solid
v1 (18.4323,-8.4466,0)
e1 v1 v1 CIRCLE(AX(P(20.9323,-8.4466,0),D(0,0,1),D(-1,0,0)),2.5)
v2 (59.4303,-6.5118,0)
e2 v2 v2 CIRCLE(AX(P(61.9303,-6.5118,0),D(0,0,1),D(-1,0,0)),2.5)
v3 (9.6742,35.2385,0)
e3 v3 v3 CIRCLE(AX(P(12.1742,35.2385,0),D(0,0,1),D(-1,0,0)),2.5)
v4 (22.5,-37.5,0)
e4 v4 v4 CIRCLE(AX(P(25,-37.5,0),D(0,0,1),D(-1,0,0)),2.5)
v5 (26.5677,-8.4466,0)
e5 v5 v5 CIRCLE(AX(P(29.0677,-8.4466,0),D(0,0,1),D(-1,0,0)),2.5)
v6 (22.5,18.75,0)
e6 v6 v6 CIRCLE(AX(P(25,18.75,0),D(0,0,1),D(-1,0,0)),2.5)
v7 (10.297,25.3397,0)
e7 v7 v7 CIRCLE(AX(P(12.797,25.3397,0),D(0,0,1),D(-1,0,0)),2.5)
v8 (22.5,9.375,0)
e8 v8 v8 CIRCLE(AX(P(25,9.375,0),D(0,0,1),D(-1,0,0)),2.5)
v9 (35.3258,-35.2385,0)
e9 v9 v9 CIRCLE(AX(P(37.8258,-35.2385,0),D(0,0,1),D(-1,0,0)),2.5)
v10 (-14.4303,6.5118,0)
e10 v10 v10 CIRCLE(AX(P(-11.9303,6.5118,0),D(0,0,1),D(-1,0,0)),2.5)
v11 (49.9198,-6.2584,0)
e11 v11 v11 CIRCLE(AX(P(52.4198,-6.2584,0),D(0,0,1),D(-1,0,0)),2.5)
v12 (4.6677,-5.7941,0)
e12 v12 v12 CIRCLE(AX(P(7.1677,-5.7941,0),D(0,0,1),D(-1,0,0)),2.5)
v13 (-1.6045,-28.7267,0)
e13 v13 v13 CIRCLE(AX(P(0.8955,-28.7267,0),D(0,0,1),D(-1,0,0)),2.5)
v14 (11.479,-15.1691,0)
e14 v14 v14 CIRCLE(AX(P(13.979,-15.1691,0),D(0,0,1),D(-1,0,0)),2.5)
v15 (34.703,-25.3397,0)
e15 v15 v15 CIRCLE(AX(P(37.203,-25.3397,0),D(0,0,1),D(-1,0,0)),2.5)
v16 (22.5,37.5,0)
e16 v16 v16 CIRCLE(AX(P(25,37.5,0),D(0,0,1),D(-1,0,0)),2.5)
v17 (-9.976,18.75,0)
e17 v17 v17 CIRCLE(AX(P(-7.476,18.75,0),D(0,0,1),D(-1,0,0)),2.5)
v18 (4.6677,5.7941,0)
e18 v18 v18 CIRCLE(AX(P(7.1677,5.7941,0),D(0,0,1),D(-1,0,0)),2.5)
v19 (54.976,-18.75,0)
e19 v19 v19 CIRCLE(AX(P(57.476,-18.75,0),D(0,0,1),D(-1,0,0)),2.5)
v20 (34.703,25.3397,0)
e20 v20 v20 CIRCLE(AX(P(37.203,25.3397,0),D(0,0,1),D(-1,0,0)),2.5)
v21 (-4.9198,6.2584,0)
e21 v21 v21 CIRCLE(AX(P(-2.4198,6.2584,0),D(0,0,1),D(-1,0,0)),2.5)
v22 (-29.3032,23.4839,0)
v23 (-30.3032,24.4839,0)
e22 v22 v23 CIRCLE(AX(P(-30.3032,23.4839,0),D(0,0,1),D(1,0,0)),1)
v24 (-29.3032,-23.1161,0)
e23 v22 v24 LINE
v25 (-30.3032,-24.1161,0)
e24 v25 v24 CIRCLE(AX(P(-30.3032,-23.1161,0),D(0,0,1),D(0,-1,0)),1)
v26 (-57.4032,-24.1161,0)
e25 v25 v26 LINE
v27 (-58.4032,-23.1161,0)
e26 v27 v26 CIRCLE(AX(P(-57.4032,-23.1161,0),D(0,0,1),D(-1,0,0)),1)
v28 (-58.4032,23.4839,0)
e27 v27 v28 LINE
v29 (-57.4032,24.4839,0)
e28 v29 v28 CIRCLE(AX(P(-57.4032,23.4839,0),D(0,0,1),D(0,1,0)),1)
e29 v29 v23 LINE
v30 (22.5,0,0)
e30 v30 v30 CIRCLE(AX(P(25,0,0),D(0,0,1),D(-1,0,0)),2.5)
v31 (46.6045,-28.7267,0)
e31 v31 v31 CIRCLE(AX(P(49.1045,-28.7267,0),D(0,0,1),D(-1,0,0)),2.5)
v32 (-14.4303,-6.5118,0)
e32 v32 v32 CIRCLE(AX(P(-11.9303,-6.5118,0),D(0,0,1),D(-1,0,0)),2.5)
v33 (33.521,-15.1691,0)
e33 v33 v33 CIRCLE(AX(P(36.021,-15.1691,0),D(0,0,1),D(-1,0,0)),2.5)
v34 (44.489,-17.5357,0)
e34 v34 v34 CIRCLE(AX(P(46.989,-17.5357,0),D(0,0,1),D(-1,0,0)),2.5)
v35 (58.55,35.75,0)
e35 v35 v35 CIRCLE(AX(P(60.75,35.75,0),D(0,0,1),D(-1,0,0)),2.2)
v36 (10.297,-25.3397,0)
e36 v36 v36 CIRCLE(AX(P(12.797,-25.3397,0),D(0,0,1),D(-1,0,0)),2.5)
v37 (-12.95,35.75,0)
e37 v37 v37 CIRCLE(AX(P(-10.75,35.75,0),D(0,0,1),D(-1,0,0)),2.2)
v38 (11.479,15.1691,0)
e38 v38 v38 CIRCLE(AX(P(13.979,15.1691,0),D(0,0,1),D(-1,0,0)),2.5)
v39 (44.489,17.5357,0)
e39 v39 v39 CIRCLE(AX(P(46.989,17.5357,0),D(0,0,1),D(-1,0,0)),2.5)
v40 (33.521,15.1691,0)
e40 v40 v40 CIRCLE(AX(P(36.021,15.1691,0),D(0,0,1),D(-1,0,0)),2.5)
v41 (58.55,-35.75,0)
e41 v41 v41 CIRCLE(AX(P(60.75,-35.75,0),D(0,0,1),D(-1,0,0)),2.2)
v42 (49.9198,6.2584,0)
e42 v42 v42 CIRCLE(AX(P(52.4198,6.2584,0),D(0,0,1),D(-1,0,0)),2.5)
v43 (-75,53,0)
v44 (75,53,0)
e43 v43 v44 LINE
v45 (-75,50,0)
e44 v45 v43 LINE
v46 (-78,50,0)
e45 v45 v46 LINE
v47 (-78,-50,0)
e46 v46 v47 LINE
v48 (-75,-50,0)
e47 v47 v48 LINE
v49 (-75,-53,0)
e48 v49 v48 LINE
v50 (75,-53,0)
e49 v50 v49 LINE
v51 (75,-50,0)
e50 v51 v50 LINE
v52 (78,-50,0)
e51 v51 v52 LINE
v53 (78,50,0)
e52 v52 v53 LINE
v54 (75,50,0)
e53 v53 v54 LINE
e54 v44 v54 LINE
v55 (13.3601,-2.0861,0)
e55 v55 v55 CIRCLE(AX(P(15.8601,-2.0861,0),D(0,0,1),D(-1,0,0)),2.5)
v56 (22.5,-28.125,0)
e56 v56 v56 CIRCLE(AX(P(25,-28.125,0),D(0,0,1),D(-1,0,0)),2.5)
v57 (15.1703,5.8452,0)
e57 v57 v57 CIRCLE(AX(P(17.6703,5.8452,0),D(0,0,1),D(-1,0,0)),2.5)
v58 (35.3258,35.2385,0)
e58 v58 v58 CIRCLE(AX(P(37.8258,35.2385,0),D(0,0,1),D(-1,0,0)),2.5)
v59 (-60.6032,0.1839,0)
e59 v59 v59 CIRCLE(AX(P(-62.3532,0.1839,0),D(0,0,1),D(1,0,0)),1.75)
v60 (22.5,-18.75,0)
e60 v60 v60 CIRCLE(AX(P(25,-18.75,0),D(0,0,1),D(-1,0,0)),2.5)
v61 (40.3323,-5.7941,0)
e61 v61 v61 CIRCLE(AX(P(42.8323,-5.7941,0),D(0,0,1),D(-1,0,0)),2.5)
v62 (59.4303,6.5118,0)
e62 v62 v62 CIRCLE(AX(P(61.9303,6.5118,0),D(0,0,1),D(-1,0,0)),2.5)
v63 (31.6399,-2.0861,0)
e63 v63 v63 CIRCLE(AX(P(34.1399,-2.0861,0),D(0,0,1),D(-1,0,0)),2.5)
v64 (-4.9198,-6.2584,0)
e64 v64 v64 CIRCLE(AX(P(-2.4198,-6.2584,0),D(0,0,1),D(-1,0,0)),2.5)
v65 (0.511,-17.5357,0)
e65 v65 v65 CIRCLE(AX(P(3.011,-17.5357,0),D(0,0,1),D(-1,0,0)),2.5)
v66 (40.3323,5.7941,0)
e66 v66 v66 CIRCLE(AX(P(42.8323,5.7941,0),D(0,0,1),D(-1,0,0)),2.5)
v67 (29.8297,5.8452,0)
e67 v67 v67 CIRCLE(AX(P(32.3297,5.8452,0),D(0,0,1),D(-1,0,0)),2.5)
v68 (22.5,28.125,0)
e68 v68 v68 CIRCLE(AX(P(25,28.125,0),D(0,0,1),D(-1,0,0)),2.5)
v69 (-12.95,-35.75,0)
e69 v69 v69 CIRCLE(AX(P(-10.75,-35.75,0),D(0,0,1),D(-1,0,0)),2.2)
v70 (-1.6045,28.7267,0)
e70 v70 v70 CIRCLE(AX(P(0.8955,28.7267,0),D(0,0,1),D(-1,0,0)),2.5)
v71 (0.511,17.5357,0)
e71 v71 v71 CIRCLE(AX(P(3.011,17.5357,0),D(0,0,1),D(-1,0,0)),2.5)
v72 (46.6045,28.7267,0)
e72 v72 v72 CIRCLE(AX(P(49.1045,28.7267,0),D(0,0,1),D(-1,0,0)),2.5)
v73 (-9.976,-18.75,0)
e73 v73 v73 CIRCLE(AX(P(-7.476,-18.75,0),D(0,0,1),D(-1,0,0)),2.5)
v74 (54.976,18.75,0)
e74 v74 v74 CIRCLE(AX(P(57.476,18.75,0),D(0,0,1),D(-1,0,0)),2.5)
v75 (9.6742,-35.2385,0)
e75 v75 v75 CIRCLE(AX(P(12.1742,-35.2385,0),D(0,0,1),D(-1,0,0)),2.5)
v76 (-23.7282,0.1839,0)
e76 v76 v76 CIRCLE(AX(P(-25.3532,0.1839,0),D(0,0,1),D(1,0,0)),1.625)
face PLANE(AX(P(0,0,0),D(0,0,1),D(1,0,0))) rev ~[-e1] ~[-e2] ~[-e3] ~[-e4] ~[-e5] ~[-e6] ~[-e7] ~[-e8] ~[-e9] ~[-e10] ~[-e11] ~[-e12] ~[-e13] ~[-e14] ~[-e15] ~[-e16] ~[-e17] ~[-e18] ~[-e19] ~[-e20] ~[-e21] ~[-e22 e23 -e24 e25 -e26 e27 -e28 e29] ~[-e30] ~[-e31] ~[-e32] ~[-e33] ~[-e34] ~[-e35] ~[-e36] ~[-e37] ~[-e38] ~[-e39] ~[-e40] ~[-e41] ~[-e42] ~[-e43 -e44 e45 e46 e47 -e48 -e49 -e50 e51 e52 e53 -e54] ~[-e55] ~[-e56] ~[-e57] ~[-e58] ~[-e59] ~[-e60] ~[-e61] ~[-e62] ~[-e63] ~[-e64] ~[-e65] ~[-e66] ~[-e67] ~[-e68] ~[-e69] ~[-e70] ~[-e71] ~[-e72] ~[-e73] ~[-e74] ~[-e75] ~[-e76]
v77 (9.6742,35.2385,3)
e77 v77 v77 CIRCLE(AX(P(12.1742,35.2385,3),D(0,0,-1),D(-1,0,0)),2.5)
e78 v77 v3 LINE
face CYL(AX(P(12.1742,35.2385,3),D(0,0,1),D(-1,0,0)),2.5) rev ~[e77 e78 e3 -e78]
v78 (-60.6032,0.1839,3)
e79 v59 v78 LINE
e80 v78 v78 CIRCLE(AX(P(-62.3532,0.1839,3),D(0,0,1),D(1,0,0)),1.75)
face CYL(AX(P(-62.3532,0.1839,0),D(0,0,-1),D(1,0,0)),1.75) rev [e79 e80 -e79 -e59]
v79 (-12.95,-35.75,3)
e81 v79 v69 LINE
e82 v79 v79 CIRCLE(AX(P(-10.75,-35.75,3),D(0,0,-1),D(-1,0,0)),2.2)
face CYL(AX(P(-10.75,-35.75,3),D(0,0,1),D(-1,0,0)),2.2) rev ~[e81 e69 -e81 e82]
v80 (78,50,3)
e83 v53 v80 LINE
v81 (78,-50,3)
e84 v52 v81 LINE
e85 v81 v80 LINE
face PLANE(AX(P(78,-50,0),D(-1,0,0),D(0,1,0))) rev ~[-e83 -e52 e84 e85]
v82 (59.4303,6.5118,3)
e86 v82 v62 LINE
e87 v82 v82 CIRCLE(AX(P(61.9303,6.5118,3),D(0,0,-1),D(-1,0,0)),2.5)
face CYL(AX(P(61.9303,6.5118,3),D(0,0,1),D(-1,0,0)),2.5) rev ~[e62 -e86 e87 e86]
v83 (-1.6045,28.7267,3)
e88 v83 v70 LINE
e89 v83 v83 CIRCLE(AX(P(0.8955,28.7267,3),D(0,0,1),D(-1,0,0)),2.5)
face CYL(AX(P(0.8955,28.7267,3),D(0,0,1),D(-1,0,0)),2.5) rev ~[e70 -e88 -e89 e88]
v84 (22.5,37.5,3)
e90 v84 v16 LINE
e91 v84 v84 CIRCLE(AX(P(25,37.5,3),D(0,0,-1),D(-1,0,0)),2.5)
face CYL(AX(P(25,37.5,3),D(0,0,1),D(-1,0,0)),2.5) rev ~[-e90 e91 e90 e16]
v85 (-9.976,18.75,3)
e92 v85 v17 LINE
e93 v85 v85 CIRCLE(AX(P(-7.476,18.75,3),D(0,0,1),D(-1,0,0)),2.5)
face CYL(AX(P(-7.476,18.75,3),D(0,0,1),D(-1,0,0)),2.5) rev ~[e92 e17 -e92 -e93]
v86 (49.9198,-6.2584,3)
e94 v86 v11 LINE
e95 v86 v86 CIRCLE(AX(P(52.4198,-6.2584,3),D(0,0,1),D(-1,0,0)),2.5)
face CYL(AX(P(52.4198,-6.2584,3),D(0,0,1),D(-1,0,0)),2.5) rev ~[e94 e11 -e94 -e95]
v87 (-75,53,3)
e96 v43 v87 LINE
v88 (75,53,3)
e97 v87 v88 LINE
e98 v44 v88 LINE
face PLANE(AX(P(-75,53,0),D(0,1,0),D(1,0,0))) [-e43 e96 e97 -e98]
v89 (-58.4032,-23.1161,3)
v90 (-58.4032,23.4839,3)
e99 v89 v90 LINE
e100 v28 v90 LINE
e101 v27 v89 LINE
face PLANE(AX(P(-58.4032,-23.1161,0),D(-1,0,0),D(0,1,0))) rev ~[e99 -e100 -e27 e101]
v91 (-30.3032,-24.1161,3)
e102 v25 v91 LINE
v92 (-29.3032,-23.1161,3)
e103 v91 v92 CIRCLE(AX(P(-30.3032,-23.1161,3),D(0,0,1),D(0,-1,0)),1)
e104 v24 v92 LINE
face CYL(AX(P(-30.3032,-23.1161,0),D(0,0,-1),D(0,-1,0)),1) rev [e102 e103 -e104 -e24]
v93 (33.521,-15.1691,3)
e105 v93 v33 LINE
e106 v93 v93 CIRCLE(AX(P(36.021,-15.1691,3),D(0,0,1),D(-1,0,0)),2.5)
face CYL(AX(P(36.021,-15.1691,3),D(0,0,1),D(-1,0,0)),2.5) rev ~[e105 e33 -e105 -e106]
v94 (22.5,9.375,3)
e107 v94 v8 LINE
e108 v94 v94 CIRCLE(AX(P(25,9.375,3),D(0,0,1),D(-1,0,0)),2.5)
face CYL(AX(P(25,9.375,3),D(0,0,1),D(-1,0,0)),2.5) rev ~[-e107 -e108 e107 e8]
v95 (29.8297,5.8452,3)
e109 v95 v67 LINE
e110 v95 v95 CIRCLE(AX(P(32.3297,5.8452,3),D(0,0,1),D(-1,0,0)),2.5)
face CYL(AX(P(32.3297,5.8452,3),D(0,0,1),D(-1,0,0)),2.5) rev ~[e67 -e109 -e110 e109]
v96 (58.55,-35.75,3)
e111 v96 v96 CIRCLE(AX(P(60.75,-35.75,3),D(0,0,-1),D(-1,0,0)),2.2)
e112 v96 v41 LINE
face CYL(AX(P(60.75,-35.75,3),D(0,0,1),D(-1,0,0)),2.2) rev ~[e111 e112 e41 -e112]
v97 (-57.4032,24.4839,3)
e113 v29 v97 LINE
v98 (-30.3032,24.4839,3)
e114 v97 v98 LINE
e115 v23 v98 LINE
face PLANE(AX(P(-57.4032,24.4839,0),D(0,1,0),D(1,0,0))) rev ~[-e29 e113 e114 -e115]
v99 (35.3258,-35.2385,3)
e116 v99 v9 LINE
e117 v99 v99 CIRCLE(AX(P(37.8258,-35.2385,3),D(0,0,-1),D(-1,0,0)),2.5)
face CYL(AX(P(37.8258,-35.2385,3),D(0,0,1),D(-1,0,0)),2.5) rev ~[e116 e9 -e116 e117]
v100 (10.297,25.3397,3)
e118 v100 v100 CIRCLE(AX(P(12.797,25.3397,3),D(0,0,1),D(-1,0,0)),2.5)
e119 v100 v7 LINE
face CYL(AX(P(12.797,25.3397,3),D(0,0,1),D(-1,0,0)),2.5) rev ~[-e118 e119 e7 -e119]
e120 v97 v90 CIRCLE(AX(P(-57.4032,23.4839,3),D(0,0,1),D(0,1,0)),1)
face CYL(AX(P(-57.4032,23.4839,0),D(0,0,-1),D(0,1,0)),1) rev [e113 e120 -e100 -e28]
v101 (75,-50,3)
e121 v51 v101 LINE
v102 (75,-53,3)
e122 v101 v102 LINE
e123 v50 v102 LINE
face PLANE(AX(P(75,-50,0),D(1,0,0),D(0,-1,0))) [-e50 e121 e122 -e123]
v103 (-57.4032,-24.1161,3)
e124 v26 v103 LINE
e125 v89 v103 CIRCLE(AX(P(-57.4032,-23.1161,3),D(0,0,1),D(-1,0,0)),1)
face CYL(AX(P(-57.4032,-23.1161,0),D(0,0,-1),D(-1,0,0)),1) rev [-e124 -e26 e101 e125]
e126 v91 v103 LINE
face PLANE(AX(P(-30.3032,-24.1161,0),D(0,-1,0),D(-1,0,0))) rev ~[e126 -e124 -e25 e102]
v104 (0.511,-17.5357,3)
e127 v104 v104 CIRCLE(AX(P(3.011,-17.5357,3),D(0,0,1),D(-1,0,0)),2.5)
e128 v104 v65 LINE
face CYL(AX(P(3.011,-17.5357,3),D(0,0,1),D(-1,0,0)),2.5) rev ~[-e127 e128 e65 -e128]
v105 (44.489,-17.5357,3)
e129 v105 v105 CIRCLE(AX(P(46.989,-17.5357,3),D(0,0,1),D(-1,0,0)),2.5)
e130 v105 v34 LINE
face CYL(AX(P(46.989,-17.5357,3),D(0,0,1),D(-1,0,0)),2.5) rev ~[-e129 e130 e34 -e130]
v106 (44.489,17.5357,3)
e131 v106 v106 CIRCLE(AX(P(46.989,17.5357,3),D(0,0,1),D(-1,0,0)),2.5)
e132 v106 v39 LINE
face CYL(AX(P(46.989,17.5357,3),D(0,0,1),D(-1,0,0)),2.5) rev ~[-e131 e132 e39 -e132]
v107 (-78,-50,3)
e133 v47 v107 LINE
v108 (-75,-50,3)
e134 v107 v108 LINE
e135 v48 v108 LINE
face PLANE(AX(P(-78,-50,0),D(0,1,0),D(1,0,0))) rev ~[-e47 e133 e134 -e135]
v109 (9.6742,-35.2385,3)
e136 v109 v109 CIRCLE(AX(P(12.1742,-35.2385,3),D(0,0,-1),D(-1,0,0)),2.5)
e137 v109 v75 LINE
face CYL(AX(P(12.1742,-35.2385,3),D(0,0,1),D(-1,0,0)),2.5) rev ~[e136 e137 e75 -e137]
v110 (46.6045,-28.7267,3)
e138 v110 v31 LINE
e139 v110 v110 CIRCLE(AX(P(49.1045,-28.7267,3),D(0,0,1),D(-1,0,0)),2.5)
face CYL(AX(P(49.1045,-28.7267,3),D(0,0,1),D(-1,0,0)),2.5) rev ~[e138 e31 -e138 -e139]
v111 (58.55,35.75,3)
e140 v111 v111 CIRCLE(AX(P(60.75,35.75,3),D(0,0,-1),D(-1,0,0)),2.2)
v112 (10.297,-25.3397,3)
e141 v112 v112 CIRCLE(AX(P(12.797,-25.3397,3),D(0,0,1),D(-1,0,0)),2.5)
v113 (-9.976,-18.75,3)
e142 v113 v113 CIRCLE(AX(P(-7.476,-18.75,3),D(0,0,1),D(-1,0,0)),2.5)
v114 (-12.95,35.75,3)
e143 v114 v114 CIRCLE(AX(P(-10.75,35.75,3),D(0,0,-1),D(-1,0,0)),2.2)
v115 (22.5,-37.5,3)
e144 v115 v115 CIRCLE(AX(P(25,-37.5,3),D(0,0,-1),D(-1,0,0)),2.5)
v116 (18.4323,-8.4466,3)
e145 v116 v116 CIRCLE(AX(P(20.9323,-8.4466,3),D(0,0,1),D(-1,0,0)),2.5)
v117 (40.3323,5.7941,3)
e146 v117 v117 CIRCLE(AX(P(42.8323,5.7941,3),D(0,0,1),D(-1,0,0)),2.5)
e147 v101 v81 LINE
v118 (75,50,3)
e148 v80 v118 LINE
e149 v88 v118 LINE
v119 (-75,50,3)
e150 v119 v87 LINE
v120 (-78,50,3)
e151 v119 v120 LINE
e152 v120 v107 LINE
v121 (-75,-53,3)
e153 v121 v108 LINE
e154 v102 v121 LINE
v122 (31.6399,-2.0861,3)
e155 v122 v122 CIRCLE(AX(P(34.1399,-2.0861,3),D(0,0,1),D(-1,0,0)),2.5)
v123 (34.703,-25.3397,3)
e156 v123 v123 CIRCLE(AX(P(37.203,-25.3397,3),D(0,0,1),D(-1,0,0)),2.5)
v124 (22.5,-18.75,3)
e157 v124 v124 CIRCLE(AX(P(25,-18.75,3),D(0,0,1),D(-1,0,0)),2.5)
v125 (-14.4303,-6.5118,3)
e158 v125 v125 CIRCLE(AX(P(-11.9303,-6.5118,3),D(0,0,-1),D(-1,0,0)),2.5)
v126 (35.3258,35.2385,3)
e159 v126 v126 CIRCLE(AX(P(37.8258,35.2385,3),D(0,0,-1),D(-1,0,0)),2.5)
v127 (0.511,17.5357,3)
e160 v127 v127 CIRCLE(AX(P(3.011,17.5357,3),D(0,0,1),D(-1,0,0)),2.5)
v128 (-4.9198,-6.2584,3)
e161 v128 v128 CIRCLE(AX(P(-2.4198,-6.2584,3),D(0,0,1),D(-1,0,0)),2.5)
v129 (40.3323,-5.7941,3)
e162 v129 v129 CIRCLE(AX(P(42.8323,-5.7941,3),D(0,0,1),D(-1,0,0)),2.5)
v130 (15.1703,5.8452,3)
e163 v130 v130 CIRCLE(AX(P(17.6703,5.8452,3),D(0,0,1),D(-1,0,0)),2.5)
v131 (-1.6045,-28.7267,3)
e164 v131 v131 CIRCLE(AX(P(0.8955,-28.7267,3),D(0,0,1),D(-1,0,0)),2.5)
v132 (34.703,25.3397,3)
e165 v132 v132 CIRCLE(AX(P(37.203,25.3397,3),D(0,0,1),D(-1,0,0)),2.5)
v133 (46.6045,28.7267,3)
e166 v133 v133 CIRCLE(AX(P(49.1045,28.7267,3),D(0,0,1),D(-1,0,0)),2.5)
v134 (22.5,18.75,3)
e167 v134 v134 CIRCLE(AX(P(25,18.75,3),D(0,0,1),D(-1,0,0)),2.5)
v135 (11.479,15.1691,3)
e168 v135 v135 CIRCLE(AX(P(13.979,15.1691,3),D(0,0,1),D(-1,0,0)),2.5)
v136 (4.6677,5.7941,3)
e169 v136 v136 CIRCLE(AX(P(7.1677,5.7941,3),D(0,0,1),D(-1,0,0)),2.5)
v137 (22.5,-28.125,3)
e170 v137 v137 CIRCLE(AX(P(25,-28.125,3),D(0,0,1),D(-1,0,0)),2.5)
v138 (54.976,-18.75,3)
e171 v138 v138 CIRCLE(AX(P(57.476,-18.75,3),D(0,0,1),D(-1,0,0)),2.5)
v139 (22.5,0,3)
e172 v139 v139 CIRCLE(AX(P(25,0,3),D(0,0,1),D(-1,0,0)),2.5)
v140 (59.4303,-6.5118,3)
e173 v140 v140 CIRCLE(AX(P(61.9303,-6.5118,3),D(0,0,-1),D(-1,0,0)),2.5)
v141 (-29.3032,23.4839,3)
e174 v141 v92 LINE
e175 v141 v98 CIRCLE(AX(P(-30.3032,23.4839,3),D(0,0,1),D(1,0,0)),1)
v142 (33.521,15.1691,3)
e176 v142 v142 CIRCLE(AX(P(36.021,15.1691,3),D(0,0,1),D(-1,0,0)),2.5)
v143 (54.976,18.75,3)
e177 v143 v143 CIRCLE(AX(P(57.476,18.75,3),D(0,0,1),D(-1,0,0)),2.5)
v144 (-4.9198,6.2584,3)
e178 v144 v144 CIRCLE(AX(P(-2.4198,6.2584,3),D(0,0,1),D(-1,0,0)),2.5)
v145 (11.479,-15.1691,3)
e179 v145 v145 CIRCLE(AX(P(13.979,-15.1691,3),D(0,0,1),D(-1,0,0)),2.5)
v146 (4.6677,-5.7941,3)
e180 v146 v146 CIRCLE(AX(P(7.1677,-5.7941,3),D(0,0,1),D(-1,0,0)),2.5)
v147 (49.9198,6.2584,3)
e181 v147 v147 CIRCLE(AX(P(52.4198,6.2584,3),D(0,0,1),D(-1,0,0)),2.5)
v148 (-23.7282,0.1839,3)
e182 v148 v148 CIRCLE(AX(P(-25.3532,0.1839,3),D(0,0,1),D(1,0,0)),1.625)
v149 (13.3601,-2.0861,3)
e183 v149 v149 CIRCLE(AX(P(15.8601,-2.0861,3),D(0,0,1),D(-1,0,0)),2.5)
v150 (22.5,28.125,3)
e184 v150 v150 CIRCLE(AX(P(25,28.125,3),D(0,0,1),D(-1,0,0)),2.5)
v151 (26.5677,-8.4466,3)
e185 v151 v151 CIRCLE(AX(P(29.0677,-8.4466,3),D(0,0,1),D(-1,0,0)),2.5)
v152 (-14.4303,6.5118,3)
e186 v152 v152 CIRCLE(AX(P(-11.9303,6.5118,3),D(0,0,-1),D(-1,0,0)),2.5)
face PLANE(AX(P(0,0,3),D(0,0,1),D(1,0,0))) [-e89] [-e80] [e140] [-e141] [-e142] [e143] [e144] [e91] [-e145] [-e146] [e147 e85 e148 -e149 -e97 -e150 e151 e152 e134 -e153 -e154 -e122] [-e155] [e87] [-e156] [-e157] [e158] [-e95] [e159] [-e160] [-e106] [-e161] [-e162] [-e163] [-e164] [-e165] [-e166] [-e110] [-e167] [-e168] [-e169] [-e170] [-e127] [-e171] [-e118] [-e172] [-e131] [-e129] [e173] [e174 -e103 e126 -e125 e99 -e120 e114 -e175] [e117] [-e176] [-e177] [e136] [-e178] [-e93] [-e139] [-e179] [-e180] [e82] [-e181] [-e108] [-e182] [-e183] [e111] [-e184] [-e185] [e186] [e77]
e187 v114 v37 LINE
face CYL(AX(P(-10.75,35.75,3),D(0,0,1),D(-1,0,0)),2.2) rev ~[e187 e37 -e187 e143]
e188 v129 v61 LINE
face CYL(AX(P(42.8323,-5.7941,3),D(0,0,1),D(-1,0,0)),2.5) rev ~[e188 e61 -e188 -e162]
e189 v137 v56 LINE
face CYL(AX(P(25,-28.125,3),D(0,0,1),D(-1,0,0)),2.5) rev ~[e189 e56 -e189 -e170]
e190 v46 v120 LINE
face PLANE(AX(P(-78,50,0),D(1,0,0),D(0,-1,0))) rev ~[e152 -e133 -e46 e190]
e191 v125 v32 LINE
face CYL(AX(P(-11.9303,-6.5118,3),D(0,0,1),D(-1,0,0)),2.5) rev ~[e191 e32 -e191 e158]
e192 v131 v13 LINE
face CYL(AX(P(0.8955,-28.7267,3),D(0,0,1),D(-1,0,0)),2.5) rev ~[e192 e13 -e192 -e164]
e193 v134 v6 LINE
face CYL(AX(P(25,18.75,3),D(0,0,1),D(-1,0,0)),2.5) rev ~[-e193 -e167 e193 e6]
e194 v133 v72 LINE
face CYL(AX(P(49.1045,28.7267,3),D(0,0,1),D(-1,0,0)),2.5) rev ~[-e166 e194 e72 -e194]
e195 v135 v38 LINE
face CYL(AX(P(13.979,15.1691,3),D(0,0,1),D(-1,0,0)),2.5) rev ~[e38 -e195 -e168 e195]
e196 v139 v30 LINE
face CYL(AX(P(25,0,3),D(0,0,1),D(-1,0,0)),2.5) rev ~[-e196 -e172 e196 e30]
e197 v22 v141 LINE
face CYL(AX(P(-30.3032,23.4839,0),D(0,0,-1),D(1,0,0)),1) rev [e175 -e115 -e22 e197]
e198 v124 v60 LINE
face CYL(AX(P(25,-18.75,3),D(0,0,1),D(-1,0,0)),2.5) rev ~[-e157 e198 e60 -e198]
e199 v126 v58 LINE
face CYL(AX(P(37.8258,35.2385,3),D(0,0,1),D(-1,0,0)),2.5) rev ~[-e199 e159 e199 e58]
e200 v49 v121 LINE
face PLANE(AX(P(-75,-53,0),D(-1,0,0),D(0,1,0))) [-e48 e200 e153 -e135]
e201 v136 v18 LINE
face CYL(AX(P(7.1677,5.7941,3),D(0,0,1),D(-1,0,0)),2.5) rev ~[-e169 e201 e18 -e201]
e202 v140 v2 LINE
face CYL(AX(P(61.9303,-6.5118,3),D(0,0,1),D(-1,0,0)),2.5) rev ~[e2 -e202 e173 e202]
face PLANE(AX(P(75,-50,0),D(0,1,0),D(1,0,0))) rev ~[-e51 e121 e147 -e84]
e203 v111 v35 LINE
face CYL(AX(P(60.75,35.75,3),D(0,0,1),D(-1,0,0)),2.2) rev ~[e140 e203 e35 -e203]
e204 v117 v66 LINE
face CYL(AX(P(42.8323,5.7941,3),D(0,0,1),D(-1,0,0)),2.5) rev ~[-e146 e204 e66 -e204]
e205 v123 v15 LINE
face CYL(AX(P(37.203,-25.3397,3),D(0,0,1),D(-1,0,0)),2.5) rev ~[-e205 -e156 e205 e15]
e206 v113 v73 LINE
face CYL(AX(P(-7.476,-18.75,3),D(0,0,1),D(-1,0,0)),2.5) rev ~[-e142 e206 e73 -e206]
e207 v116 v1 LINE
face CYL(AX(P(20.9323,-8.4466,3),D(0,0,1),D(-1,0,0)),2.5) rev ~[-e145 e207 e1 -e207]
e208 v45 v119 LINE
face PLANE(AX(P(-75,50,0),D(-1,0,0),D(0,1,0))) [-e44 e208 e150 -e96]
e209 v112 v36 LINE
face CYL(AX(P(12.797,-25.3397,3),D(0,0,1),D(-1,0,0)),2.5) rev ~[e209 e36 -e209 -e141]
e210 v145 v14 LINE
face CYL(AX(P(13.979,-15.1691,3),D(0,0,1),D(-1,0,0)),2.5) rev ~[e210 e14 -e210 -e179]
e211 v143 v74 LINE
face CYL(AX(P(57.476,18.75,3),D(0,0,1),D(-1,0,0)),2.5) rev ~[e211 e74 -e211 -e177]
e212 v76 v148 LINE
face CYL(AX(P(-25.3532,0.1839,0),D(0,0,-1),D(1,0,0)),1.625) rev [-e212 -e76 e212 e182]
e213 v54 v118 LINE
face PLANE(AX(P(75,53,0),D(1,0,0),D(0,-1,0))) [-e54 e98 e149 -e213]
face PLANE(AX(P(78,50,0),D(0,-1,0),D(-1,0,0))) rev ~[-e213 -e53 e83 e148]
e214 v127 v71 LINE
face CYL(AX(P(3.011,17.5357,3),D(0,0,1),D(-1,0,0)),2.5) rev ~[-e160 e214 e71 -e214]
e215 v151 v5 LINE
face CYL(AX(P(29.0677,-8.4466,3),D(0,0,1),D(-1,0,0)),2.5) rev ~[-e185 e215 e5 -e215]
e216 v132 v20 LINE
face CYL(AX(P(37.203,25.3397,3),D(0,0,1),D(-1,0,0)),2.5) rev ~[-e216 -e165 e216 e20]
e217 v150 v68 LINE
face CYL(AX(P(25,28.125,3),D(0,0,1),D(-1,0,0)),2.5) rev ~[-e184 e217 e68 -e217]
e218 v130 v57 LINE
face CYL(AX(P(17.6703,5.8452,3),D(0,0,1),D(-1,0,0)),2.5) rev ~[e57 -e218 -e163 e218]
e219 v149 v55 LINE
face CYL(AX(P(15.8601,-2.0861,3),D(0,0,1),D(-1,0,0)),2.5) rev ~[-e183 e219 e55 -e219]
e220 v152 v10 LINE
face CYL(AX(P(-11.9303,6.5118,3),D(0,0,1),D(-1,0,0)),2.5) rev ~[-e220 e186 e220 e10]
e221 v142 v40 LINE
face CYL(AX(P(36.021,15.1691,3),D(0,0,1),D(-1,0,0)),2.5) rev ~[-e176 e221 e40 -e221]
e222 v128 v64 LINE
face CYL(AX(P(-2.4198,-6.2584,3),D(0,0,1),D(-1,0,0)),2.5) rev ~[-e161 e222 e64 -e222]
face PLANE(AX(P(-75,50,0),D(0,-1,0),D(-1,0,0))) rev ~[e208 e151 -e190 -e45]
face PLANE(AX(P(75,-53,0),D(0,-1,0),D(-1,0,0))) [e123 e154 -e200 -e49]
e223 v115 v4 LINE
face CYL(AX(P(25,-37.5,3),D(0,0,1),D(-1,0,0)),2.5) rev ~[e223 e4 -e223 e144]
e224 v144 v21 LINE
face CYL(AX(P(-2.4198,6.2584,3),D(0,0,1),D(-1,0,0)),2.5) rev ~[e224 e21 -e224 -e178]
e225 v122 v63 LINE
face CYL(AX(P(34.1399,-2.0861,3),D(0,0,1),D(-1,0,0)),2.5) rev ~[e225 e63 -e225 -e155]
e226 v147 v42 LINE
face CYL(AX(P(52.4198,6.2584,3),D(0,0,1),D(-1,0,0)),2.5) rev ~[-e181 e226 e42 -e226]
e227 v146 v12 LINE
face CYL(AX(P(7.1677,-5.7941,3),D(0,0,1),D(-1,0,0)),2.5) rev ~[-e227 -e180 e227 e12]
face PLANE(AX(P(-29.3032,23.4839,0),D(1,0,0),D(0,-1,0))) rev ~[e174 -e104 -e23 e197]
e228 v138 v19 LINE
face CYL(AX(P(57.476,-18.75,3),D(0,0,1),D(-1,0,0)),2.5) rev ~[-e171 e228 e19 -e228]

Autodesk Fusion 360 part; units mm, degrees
sketch "Esquisse1" plane through (0, 0, 0) normal (0, 0, 1) x (1, 0, 0)
  line L0 (75, -53) -> (-75, -53)
  line L1 (-75, -53) -> (-75, 53)
  line L2 (-75, 53) -> (75, 53)
  line L3 (75, 53) -> (75, -53)
  line L4 (75, -53) -> (-75, 53) construction
  line L5 (-75, -53) -> (75, 53) construction
  line L6 (78, 50) -> (-78, 50)
  line L7 (-78, 50) -> (-78, -50)
  line L8 (-78, -50) -> (78, -50)
  line L9 (78, -50) -> (78, 50)
  line L10 (78, 50) -> (-78, -50) construction
  line L11 (-78, 50) -> (78, -50) construction
  dimension "d1" = 150
  dimension "d2" = 106
  dimension "d49" = 156
  dimension "d50" = 100
extrude "Extrusion1" add sketch "Esquisse1" along normal blind 3
sketch "Esquisse4" plane through (0, 0, 3) normal (0, 0, 1) x (-1, 0, 0)
  line L0 (-75, -53) -> (75, -53)
  line L1 (75, -53) -> (75, -50)
  line L2 (75, 53) -> (-75, 53)
  line L3 (-75, -50) -> (-75, -53)
  circle A0 centre (-25, -37.5) radius 2.5
  circle A1 centre (-25, -28.125) radius 2.5
  circle A2 centre (-25, -18.75) radius 2.5
  circle A3 centre (-25, -9.375) radius 2.5
  circle A4 centre (-25, 0) radius 2.5
  circle A5 centre (-12.1742, -35.2385) radius 2.5
  circle A6 centre (-0.8955, -28.7267) radius 2.5
  circle A7 centre (7.476, -18.75) radius 2.5
  circle A8 centre (11.9303, -6.5118) radius 2.5
  circle A9 centre (11.9303, 6.5118) radius 2.5
  circle A10 centre (7.476, 18.75) radius 2.5
  circle A11 centre (-0.8955, 28.7267) radius 2.5
  circle A12 centre (-12.1742, 35.2385) radius 2.5
  circle A13 centre (-25, 37.5) radius 2.5
  circle A14 centre (-37.8258, 35.2385) radius 2.5
  circle A15 centre (-49.1045, 28.7267) radius 2.5
  circle A16 centre (-57.476, 18.75) radius 2.5
  circle A17 centre (-61.9303, 6.5118) radius 2.5
  circle A18 centre (-61.9303, -6.5118) radius 2.5
  circle A19 centre (-57.476, -18.75) radius 2.5
  circle A20 centre (-49.1045, -28.7267) radius 2.5
  circle A21 centre (-37.8258, -35.2385) radius 2.5
  circle A22 centre (-12.797, -25.3397) radius 2.5
  circle A23 centre (-3.011, -17.5357) radius 2.5
  circle A24 centre (2.4198, -6.2584) radius 2.5
  circle A25 centre (2.4198, 6.2584) radius 2.5
  circle A26 centre (-3.011, 17.5357) radius 2.5
  circle A27 centre (-12.797, 25.3397) radius 2.5
  circle A28 centre (-25, 28.125) radius 2.5
  circle A29 centre (-37.203, 25.3397) radius 2.5
  circle A30 centre (-46.989, 17.5357) radius 2.5
  circle A31 centre (-52.4198, 6.2584) radius 2.5
  circle A32 centre (-52.4198, -6.2584) radius 2.5
  circle A33 centre (-46.989, -17.5357) radius 2.5
  circle A34 centre (-37.203, -25.3397) radius 2.5
  circle A35 centre (-13.979, -15.1691) radius 2.5
  circle A36 centre (-7.1677, -5.7941) radius 2.5
  circle A37 centre (-7.1677, 5.7941) radius 2.5
  circle A38 centre (-13.979, 15.1691) radius 2.5
  circle A39 centre (-25, 18.75) radius 2.5
  circle A40 centre (-36.021, 15.1691) radius 2.5
  circle A41 centre (-42.8323, 5.7941) radius 2.5
  circle A42 centre (-42.8323, -5.7941) radius 2.5
  circle A43 centre (-36.021, -15.1691) radius 2.5
  circle A44 centre (-17.6703, -5.8452) radius 2.5
  circle A45 centre (-15.8601, 2.0861) radius 2.5
  circle A46 centre (-20.9323, 8.4466) radius 2.5
  circle A47 centre (-29.0677, 8.4466) radius 2.5
  circle A48 centre (-34.1399, 2.0861) radius 2.5
  circle A49 centre (-32.3297, -5.8452) radius 2.5
  line L4 (-75, 50) -> (-78, 50)
  line L5 (-78, 50) -> (-78, -50)
  line L6 (-78, -50) -> (-75, -50)
  line L7 (75, -50) -> (78, -50)
  line L8 (78, -50) -> (78, 50)
  line L9 (78, 50) -> (75, 50)
  line L10 (75, 50) -> (75, 53)
  line L11 (-75, 53) -> (-75, 50)
  circle A50 centre (-60.75, -35.75) radius 2.2
  circle A51 centre (10.75, 35.75) radius 2.2
  line L12 (-60.75, -35.75) -> (10.75, -35.75)
  line L13 (10.75, 35.75) -> (-60.75, -35.75) construction
  line L14 (-60.75, 35.75) -> (10.75, -35.75) construction
  circle A52 centre (10.75, -35.75) radius 2.2
  line L15 (10.75, 35.75) -> (-60.75, 35.75)
  line L16 (-60.75, 35.75) -> (-60.75, -35.75)
  line L17 (10.75, -35.75) -> (10.75, 35.75)
  circle A53 centre (-60.75, 35.75) radius 2.2
  line L18 (-75, 50) -> (-78, 50)
  point P0 (-25, 0)
  dimension "d32" = 5
  dimension "d37" = 0
  dimension "d38" = 37.5
  dimension "d40" = 360
  dimension "d42" = 360
  dimension "d44" = 360
  dimension "d46" = 360
  dimension "d51" = 71.5
  dimension "d52" = 71.5
  dimension "d53" = 4.4
  dimension "d54" = 4.4
  dimension "d55" = 4.4
  dimension "d56" = 4.4
extrude "Extrusion5" cut sketch "Esquisse4" against normal blind 3 contours A0 L12 | A0 L12 | A5 L12 | A5 L12 | A21 L12 | A21 L12 | L12 A52 L17 | L12 A52 L17 | A50 L12 L16 | A50 L12 L16 | A8 L17 | A8 L17 | A18 L16 | A18 L16 | A9 L17 | A9 L17 | A17 L16 | A17 L16 | A51 L15 L17 | A51 L15 L17 | L15 L16 A53 | L15 L16 A53 | A12 L15 | A12 L15 | A14 L15 | A14 L15 | A13 L15 | A13 L15 | A1 | A2 | A3 | A4 | A6 | A7 | A10 | A11 | A15 | A16 | A19 | A20 | A22 | A23 | A24 | A25 | A26 | A27 | A28 | A29 | A30 | A31 | A32 | A33 | A34 | A35 | A36 | A37 | A38 | A39 | A40 | A41 | A42 | A43 | A44 | A45 | A46 | A47 | A48 | A49
sketch "Esquisse3" plane through (0, 0, 0) normal (0, 0, 1) x (1, 0, 0)
  line L0 (-29.3032, 23.4839) -> (-29.3032, -23.1161)
  line L1 (-29.3032, -24.1161) -> (-58.4032, 24.4839) construction
  line L2 (-58.4032, -23.1161) -> (-58.4032, 23.4839)
  line L3 (-57.4032, 24.4839) -> (-30.3032, 24.4839)
  line L4 (-58.4032, -24.1161) -> (-29.3032, 24.4839) construction
  circle A0 centre (-25.3532, 0.1839) radius 1.625
  circle A1 centre (-62.3532, 0.1839) radius 1.75
  circle A2 centre (-25.3532, 0.1839) radius 1.75 construction
  arc A3 (-58.4032, -23.1161) -> (-57.4032, -24.1161) centre (-57.4032, -23.1161) ccw
  arc A4 (-29.3032, 23.4839) -> (-30.3032, 24.4839) centre (-30.3032, 23.4839) ccw
  arc A5 (-30.3032, -24.1161) -> (-29.3032, -23.1161) centre (-30.3032, -23.1161) ccw
  arc A6 (-57.4032, 24.4839) -> (-58.4032, 23.4839) centre (-57.4032, 23.4839) ccw
  line L5 (-30.3032, -24.1161) -> (-57.4032, -24.1161)
  dimension "d26" = 1
  dimension "d27" = 3.5
  dimension "d28" = 3.5
extrude "Extrusion4" cut sketch "Esquisse3" along normal blind 3
